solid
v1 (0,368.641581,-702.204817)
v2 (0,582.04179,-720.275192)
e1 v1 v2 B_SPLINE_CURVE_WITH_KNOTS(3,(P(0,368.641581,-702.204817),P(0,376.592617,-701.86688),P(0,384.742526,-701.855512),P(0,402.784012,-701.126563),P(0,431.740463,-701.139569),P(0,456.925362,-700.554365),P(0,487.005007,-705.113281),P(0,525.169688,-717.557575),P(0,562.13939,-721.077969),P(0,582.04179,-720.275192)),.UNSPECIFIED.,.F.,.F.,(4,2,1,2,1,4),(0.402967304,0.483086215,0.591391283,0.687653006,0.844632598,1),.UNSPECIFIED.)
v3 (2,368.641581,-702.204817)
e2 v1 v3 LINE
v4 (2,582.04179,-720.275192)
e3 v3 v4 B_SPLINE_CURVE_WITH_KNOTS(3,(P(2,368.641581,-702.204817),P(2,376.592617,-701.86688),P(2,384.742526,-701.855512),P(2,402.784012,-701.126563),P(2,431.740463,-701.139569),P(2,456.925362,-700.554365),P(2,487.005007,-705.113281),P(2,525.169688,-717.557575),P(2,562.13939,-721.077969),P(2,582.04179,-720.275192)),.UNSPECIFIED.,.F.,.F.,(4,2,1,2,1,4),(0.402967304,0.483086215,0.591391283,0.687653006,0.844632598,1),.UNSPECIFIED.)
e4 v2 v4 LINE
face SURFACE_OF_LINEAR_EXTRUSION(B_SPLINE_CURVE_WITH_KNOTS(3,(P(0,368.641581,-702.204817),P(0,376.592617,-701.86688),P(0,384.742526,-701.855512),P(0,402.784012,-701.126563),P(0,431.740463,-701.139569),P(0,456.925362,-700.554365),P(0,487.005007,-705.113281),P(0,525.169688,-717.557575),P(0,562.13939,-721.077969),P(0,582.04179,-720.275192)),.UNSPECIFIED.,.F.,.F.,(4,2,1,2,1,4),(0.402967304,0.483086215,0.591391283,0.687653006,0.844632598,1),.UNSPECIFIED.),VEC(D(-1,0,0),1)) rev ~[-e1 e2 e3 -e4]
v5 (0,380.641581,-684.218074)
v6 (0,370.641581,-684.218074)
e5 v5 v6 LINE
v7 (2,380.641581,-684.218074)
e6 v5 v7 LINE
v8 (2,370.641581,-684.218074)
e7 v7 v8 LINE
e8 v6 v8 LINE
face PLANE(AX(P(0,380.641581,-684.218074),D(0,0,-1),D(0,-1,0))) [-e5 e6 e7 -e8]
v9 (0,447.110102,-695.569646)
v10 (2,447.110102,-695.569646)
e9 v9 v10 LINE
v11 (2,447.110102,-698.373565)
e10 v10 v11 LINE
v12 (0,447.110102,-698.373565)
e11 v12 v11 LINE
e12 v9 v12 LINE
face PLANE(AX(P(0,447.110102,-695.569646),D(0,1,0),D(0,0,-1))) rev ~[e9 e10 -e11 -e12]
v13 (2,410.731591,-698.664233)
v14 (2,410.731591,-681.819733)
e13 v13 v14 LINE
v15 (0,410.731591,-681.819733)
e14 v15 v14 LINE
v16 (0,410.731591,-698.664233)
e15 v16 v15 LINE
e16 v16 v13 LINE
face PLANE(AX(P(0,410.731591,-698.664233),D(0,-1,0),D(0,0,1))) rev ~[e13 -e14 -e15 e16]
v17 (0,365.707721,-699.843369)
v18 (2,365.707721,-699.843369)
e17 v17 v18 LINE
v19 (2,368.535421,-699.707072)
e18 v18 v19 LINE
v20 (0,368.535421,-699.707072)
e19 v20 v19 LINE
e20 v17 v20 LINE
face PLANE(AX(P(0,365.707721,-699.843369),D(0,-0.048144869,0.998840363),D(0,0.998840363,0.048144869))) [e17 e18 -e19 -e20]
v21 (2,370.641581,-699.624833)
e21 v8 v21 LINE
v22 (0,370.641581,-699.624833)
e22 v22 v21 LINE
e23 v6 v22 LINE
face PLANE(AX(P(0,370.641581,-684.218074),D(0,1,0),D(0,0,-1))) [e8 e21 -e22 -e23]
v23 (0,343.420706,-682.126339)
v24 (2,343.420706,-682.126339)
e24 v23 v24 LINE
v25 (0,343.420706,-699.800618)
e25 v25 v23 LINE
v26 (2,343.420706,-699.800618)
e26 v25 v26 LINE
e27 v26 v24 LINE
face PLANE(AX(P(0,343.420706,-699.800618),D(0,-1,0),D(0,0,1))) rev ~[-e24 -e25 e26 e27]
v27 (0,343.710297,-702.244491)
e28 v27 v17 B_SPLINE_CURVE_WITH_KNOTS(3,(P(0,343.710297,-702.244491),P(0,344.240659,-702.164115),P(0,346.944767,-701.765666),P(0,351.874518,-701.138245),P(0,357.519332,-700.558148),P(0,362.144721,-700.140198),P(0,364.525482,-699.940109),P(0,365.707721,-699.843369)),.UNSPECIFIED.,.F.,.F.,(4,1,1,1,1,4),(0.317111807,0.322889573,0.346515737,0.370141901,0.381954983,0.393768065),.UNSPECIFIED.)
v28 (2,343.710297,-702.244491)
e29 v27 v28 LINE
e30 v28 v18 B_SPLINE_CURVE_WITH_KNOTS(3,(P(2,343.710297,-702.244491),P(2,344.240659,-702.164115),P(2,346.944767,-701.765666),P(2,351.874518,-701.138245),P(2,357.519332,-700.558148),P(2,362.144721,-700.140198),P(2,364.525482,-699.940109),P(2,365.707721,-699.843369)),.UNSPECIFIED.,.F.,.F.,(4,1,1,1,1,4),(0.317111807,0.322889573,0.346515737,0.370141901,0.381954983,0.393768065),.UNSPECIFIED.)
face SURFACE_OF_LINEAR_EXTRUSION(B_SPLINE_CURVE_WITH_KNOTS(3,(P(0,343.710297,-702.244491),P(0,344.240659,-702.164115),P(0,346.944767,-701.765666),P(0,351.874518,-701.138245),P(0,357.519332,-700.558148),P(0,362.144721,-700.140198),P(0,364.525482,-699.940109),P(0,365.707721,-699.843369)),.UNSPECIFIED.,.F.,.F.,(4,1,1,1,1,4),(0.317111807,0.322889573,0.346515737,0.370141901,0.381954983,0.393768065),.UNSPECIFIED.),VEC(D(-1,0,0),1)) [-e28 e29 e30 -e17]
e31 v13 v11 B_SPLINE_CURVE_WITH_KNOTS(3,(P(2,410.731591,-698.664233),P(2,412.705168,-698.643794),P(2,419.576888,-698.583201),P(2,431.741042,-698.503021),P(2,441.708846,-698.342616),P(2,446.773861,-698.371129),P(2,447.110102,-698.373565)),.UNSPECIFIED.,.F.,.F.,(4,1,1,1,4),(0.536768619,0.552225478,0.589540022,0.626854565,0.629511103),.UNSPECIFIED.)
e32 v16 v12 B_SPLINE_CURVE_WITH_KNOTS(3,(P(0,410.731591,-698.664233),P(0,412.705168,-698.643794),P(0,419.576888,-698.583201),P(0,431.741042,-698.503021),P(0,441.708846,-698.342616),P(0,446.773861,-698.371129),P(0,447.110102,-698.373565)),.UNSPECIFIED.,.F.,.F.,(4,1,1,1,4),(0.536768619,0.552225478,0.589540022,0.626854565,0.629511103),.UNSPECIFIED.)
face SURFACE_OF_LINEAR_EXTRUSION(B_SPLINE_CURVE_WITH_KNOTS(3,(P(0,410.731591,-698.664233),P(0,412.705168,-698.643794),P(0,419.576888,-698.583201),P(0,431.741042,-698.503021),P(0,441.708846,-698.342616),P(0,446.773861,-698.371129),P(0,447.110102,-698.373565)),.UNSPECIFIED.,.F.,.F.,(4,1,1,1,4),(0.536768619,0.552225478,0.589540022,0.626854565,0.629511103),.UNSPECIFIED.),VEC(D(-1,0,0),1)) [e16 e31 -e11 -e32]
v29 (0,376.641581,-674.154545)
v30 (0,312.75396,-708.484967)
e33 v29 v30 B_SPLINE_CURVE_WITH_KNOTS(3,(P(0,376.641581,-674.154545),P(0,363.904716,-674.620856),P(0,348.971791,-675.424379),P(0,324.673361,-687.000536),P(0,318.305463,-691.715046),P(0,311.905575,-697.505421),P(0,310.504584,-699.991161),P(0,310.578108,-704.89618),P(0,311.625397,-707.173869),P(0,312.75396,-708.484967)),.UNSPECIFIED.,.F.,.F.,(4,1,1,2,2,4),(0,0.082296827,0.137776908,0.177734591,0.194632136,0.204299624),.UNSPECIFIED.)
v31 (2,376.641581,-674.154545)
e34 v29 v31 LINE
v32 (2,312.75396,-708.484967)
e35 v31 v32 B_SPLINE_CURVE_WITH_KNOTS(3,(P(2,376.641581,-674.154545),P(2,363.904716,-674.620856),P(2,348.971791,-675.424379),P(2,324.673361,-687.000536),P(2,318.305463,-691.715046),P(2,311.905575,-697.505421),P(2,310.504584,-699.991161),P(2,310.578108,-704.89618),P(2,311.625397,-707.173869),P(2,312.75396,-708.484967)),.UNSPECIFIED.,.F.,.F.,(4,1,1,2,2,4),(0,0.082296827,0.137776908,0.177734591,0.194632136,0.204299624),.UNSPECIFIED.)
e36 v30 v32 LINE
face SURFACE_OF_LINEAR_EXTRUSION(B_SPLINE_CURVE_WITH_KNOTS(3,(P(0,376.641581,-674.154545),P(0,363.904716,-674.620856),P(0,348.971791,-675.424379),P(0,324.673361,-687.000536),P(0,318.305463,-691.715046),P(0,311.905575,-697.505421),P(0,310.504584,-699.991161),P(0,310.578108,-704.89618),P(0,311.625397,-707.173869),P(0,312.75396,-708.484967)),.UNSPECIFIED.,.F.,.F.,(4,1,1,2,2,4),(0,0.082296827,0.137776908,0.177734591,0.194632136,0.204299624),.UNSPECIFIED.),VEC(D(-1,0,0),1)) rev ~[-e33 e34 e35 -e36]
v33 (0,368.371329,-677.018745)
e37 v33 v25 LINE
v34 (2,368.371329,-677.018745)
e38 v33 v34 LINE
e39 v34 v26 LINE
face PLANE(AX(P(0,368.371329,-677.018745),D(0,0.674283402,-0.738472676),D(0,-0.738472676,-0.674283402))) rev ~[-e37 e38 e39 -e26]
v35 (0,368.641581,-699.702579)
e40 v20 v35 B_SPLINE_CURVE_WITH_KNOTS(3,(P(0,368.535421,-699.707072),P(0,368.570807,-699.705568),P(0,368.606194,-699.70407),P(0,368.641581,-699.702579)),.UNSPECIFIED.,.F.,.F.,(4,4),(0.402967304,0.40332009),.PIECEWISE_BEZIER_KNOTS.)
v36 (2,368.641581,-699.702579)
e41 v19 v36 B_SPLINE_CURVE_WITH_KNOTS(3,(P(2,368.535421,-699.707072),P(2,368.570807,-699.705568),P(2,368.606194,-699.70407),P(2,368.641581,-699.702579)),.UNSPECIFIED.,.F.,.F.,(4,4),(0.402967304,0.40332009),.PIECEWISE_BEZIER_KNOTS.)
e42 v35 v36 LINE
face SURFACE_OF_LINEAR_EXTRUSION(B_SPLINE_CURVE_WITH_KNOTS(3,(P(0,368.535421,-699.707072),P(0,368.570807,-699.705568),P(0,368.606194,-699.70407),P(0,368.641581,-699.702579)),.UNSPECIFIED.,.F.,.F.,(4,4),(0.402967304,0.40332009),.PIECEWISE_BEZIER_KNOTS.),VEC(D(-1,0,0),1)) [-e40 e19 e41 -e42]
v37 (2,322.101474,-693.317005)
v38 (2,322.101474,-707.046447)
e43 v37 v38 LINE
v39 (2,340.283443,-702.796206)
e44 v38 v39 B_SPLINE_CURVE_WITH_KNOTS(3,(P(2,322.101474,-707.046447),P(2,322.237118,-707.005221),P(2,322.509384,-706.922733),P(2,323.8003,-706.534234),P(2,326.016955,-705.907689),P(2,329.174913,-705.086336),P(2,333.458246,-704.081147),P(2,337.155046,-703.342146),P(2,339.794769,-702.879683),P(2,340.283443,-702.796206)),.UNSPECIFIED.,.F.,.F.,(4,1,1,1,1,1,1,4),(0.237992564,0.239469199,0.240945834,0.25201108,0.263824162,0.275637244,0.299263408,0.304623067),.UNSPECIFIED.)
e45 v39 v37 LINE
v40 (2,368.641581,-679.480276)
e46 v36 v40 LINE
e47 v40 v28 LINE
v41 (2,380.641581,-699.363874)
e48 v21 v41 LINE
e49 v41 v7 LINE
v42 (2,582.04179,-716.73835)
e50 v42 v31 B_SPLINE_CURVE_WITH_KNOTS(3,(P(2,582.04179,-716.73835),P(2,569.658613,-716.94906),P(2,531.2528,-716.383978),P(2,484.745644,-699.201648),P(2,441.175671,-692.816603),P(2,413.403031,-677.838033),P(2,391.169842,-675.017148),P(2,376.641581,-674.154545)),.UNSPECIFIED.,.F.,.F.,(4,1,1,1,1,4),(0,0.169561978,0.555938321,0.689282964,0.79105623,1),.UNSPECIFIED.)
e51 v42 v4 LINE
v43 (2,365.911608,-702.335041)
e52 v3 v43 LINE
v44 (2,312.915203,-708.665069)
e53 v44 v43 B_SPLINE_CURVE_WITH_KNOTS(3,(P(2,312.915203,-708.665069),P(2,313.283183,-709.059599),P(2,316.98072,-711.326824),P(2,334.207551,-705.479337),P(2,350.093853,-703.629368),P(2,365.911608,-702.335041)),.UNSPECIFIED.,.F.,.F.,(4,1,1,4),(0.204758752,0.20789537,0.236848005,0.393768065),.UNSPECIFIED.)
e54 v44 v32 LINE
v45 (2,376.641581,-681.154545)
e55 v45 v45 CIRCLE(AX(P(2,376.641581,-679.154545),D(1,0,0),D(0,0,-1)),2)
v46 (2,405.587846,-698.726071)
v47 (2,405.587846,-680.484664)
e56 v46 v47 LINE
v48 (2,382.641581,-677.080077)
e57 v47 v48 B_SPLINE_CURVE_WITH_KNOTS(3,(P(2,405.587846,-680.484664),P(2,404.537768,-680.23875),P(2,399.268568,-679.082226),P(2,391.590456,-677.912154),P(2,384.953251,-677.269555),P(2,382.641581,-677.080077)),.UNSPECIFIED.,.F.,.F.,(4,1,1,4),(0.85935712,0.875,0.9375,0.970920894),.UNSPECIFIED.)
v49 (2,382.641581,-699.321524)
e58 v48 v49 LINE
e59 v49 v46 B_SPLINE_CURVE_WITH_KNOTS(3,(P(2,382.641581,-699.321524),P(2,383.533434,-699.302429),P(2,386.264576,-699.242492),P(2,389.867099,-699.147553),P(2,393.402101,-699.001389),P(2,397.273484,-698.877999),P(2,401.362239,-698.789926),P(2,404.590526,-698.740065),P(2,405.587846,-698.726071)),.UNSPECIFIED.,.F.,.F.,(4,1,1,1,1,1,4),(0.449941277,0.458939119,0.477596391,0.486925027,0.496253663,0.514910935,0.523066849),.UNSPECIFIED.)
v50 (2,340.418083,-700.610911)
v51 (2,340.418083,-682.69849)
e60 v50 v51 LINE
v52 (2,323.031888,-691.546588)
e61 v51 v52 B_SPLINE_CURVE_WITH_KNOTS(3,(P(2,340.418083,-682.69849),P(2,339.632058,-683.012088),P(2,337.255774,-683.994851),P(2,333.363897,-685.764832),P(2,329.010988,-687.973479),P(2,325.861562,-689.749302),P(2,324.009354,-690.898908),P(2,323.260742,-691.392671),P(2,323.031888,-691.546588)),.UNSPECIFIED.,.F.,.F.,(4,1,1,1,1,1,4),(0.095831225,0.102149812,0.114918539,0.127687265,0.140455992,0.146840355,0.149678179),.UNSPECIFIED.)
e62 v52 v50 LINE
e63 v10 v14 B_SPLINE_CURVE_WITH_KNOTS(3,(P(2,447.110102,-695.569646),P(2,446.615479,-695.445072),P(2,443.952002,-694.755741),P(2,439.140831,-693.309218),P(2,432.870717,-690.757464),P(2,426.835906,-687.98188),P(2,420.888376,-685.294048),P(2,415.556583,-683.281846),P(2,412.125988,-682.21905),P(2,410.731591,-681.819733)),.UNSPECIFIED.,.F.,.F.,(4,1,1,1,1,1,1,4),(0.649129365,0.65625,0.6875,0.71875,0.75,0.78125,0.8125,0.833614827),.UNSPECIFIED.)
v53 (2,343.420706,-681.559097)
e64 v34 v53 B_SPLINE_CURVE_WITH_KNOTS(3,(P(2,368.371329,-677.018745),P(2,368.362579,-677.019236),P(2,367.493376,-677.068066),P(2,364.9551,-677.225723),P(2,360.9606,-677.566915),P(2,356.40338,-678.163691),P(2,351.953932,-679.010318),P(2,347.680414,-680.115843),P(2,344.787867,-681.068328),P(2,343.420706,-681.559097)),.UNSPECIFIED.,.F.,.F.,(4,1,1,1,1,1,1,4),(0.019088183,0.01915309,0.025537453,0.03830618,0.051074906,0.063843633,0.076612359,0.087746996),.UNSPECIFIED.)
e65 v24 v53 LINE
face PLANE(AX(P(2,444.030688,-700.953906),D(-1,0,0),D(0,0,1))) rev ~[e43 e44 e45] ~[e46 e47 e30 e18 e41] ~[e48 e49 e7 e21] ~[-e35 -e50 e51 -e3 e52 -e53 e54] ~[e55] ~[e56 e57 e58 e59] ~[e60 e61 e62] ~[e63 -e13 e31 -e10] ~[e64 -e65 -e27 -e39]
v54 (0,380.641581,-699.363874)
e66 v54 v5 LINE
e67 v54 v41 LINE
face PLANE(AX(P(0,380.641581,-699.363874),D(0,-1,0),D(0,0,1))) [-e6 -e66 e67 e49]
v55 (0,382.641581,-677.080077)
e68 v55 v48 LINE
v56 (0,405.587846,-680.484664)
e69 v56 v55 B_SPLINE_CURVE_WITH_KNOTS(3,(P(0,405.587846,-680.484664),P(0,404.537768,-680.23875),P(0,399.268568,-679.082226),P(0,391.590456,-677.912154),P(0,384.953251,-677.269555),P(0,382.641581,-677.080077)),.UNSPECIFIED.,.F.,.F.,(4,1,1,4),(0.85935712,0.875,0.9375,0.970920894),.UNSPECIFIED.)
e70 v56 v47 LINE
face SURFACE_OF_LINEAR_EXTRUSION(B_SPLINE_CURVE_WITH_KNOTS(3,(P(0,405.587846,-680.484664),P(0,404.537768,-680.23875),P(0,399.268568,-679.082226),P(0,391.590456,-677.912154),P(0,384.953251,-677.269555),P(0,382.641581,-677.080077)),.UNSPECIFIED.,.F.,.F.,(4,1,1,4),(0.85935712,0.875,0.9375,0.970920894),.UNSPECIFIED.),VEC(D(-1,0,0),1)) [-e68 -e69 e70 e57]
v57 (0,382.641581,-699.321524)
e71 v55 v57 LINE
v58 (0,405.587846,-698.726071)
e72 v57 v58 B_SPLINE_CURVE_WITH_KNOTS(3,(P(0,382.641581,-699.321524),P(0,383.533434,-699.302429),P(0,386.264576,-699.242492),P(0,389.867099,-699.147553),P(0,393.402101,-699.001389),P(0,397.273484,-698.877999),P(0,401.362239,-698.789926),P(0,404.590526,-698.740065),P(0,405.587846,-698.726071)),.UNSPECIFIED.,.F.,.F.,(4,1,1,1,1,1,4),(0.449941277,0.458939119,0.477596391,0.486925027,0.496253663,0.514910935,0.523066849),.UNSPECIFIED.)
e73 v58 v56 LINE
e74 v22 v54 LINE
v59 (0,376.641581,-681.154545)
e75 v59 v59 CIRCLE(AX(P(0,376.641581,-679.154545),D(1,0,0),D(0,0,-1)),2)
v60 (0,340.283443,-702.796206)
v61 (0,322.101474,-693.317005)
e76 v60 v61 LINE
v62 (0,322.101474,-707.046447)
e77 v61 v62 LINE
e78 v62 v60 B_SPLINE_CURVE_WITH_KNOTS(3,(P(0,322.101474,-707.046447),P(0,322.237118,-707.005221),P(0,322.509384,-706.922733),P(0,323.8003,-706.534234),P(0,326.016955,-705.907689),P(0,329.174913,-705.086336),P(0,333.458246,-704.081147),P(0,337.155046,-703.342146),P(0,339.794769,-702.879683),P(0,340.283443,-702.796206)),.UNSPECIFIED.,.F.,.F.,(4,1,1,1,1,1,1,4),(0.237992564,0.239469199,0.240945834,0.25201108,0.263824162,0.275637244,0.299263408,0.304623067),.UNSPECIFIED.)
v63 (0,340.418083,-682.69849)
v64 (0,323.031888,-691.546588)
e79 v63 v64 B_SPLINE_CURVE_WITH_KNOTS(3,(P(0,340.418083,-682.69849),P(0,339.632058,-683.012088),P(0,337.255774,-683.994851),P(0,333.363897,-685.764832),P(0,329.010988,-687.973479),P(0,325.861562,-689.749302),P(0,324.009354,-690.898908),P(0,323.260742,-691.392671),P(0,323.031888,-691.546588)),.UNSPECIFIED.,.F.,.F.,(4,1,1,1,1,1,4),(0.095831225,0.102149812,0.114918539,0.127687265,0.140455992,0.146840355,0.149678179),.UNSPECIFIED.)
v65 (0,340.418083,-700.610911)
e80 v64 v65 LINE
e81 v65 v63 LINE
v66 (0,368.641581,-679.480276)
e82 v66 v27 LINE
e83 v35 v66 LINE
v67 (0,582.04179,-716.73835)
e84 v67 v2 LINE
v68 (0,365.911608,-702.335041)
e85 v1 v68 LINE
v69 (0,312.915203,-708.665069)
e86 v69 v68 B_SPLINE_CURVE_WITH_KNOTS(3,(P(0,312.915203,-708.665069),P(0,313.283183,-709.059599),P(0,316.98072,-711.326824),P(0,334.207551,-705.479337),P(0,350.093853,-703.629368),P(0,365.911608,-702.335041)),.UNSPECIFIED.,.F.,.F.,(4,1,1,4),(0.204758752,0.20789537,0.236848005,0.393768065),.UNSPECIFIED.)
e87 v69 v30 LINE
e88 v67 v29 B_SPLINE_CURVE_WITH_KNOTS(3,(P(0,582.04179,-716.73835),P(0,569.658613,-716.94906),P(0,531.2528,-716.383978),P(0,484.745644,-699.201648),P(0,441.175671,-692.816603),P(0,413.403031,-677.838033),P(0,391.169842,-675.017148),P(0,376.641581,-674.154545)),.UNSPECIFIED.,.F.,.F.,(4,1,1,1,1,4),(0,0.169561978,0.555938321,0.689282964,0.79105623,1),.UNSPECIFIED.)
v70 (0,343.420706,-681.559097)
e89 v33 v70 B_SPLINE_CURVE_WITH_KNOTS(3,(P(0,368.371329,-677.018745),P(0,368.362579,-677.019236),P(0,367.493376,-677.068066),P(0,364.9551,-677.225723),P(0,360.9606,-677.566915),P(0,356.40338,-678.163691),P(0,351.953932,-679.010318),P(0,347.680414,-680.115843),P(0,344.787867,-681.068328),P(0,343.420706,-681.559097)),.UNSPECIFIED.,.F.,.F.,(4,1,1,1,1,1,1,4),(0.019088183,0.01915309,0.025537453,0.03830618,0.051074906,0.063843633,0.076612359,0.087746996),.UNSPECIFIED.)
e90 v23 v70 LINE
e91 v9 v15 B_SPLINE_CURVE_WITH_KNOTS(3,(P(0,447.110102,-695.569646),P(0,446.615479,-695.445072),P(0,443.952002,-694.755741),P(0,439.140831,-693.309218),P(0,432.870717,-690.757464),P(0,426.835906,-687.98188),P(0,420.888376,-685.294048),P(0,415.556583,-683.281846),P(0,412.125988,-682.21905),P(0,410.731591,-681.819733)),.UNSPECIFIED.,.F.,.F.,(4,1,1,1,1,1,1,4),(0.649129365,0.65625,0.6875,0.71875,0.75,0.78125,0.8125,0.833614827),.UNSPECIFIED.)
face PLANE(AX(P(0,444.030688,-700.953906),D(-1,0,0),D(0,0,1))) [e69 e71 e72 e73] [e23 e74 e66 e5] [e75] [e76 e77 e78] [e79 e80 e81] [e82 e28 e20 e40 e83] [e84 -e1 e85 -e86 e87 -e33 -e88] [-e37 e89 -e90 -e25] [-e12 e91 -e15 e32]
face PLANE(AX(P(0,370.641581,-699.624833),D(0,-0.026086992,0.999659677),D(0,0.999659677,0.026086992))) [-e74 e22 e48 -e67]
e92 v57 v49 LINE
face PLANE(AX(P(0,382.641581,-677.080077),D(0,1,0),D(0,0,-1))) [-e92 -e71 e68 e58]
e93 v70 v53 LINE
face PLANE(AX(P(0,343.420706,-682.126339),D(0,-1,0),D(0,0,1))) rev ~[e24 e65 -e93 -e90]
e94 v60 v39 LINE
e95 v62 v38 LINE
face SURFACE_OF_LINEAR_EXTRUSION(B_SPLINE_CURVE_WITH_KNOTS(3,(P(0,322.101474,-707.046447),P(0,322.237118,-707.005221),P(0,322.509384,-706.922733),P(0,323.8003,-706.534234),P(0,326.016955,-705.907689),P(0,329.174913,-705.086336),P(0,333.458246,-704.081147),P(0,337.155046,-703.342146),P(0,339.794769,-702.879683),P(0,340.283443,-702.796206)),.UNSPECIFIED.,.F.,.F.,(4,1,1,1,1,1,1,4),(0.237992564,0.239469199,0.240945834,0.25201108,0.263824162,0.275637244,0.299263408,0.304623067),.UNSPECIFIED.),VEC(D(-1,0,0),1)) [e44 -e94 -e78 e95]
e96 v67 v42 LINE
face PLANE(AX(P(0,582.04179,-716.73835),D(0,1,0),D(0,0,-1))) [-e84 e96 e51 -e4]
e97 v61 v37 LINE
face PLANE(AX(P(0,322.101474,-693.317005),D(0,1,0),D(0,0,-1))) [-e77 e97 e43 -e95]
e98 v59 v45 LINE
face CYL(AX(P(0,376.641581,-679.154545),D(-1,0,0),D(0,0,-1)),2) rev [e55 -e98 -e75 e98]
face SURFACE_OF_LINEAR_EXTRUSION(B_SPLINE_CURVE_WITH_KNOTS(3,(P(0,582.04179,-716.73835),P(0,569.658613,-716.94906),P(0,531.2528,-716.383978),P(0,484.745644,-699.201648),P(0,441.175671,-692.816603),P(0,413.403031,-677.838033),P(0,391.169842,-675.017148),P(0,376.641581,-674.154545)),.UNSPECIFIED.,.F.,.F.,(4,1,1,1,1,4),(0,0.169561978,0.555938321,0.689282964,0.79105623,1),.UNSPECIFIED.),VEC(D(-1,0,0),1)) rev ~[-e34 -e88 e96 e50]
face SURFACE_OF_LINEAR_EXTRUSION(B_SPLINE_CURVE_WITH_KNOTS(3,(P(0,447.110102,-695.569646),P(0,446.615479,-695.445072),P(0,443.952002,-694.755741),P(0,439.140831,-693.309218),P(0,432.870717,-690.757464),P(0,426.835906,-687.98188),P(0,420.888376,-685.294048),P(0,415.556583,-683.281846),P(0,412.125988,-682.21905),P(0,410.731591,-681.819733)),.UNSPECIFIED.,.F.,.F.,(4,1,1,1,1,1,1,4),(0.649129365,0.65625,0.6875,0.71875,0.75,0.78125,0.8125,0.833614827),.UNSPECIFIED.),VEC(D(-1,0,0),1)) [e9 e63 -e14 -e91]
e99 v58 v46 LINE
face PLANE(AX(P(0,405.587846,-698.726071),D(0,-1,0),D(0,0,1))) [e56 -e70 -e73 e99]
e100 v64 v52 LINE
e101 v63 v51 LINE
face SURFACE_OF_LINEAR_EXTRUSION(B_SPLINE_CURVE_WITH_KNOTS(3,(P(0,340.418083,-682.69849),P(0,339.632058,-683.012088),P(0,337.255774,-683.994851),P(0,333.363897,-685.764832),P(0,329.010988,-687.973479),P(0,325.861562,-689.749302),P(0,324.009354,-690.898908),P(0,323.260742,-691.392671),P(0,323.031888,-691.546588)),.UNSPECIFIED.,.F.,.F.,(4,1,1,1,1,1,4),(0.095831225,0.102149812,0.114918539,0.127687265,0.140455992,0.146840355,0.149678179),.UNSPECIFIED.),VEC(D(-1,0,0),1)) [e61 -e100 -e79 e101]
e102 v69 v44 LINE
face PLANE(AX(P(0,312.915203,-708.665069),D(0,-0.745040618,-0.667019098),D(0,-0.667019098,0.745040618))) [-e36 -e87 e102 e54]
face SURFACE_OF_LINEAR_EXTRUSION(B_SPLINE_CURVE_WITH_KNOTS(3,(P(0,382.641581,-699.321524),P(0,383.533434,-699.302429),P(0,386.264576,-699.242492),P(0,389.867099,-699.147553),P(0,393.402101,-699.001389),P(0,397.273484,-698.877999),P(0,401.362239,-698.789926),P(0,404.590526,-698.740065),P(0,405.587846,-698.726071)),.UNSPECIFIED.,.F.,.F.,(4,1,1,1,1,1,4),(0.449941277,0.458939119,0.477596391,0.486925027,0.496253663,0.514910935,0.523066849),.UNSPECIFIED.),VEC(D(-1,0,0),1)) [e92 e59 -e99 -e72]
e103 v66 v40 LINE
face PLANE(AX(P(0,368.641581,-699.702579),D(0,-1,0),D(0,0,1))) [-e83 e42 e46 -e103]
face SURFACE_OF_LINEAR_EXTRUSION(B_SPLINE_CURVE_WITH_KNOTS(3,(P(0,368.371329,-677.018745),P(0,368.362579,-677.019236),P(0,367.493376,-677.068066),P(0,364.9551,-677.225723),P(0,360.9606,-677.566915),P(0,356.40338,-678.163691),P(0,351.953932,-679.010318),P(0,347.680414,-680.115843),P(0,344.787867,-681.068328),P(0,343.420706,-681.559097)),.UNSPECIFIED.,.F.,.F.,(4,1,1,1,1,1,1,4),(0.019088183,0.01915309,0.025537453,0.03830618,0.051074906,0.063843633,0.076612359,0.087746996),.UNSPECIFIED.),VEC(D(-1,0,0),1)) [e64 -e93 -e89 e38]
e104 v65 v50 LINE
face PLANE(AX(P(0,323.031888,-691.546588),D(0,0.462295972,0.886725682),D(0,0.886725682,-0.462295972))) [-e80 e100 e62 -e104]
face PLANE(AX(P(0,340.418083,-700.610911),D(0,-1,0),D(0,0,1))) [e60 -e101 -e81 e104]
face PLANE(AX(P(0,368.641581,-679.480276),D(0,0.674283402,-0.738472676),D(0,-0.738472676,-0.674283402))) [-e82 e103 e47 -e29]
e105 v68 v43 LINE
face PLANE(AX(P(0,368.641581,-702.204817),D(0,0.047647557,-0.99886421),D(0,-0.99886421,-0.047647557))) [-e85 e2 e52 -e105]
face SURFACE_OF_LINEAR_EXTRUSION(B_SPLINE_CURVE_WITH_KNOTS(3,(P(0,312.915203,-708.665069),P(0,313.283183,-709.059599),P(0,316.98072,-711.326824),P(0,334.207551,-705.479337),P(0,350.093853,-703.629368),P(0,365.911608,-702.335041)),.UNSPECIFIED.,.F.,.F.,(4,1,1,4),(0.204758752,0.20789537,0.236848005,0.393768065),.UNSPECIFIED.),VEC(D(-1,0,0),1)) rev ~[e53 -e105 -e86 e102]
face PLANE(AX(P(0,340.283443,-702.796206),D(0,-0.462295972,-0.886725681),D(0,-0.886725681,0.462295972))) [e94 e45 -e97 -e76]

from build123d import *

# Parameters (mm, degrees)
SKETCH5_R           = 2
BOSS_EXTRUDE4_DEPTH = 2


with BuildPart() as part:
    # Sketch5 → Boss-Extrude4 (new body)
    with BuildSketch(Plane(origin=(0, 0, 0), x_dir=(0, 0, -1), z_dir=(1, 0, 0))):
        with BuildLine():
            Line((702.204816823, 368.641580619), (702.335041252, 365.911608116))
            add(Edge.make_bspline(
                [(708.665069398, 312.915202561), (709.059599228, 313.283182522), (711.326824284, 316.980719887), (705.479336728, 334.207550543), (703.629367545, 350.093853303), (702.335041252, 365.911608116)],
                knots=[0.204758752, 0.204758752, 0.204758752, 0.204758752, 0.20789537, 0.236848005, 0.393768065, 0.393768065, 0.393768065, 0.393768065], degree=3))
            Line((708.665069398, 312.915202561), (708.4849665, 312.753960248))
            add(Edge.make_bspline(
                [(674.154545228, 376.641580619), (674.620856382, 363.904715947), (675.424379165, 348.971791483), (687.000536051, 324.673360926), (691.715046417, 318.305462816), (697.505420821, 311.905575317), (699.991161169, 310.504584491), (704.896179602, 310.578107779), (707.173869325, 311.62539673), (708.4849665, 312.753960248)],
                knots=[0, 0, 0, 0, 0.082296827, 0.137776908, 0.177734591, 0.177734591, 0.194632136, 0.194632136, 0.204299624, 0.204299624, 0.204299624, 0.204299624], degree=3))
            add(Edge.make_bspline(
                [(716.738350356, 582.041790112), (716.949059787, 569.658613326), (716.383977532, 531.252800378), (699.20164784, 484.745643735), (692.816603357, 441.17567074), (677.838033392, 413.403031345), (675.017147904, 391.169841826), (674.154545228, 376.641580619)],
                knots=[0, 0, 0, 0, 0.169561978, 0.555938321, 0.689282964, 0.79105623, 1, 1, 1, 1], degree=3))
            Line((716.738350356, 582.041790112), (720.275191601, 582.041790112))
            add(Edge.make_bspline(
                [(702.204816823, 368.641580619), (701.866880483, 376.59261731), (701.855512377, 384.742525801), (701.126563426, 402.784012347), (701.139569257, 431.740463498), (700.554364903, 456.925362173), (705.113280793, 487.005006805), (717.55757455, 525.169688046), (721.077969059, 562.139389647), (720.275191601, 582.041790112)],
                knots=[0.402967304, 0.402967304, 0.402967304, 0.402967304, 0.483086215, 0.483086215, 0.591391283, 0.687653006, 0.687653006, 0.844632598, 1, 1, 1, 1], degree=3))
        make_face()
        with Locations((679.154545228, 376.641580619)):
            Circle(SKETCH5_R, mode=Mode.SUBTRACT)
        with BuildLine():
            Line((693.31700457, 322.101474261), (707.046446766, 322.101474261))
            add(Edge.make_bspline(
                [(707.046446766, 322.101474261), (707.005220945, 322.237117772), (706.922732707, 322.509383939), (706.534234053, 323.800299861), (705.907689381, 326.016954973), (705.086335684, 329.174913084), (704.081146672, 333.458245954), (703.342146452, 337.155046299), (702.879683114, 339.794769321), (702.796205667, 340.283443291)],
                knots=[0.237992564, 0.237992564, 0.237992564, 0.237992564, 0.239469199, 0.240945834, 0.25201108, 0.263824162, 0.275637244, 0.299263408, 0.304623067, 0.304623067, 0.304623067, 0.304623067], degree=3))
            Line((702.796205667, 340.283443291), (693.31700457, 322.101474261))
        make_face(mode=Mode.SUBTRACT)
        with BuildLine():
            Line((695.569646388, 447.110102342), (698.373565229, 447.110102342))
            add(Edge.make_bspline(
                [(698.664232879, 410.731591223), (698.643793767, 412.705167832), (698.583200964, 419.576888227), (698.503020609, 431.741041677), (698.342615508, 441.708845907), (698.371128999, 446.773860567), (698.373565229, 447.110102342)],
                knots=[0.536768619, 0.536768619, 0.536768619, 0.536768619, 0.552225478, 0.589540022, 0.626854565, 0.629511103, 0.629511103, 0.629511103, 0.629511103], degree=3))
            Line((698.664232879, 410.731591223), (681.819733297, 410.731591223))
            add(Edge.make_bspline(
                [(695.569646388, 447.110102342), (695.445071663, 446.615479316), (694.75574098, 443.952002178), (693.309217828, 439.14083074), (690.757463872, 432.870717043), (687.981879888, 426.835905874), (685.294048363, 420.88837637), (683.281845592, 415.556583016), (682.219049797, 412.125988091), (681.819733297, 410.731591223)],
                knots=[0.649129365, 0.649129365, 0.649129365, 0.649129365, 0.65625, 0.6875, 0.71875, 0.75, 0.78125, 0.8125, 0.833614827, 0.833614827, 0.833614827, 0.833614827], degree=3))
        make_face(mode=Mode.SUBTRACT)
        with BuildLine():
            Line((698.726070785, 405.587845941), (680.484664022, 405.587845941))
            add(Edge.make_bspline(
                [(680.484664022, 405.587845941), (680.238750128, 404.537768108), (679.082225719, 399.268568047), (677.912154024, 391.590456054), (677.269554608, 384.953250969), (677.080076983, 382.641580619)],
                knots=[0.85935712, 0.85935712, 0.85935712, 0.85935712, 0.875, 0.9375, 0.970920894, 0.970920894, 0.970920894, 0.970920894], degree=3))
            Line((677.080076983, 382.641580619), (699.321524117, 382.641580619))
            add(Edge.make_bspline(
                [(699.321524117, 382.641580619), (699.302429137, 383.533434317), (699.242491888, 386.264575946), (699.147553202, 389.867098627), (699.001388629, 393.402101288), (698.877999212, 397.273483995), (698.789925818, 401.362239475), (698.740065111, 404.5905262), (698.726070785, 405.587845941)],
                knots=[0.449941277, 0.449941277, 0.449941277, 0.449941277, 0.458939119, 0.477596391, 0.486925027, 0.496253663, 0.514910935, 0.523066849, 0.523066849, 0.523066849, 0.523066849], degree=3))
        make_face(mode=Mode.SUBTRACT)
        with BuildLine():
            Line((699.702579346, 368.641580618), (679.480276131, 368.641580618))
            Line((679.480276131, 368.641580618), (702.244491297, 343.710296775))
            add(Edge.make_bspline(
                [(702.244491297, 343.710296775), (702.164114891, 344.240659424), (701.765665969, 346.944766745), (701.138245114, 351.874517683), (700.558148125, 357.51933203), (700.140198351, 362.144721019), (699.940108697, 364.525481943), (699.84336911, 365.707720979)],
                knots=[0.317111807, 0.317111807, 0.317111807, 0.317111807, 0.322889573, 0.346515737, 0.370141901, 0.381954983, 0.393768065, 0.393768065, 0.393768065, 0.393768065], degree=3))
            Line((699.84336911, 365.707720979), (699.707071806, 368.535421028))
            add(Edge.make_bspline(
                [(699.707071806, 368.535421028), (699.705567812, 368.570807306), (699.704070344, 368.606193837), (699.702579346, 368.641580618)],
                knots=[0.402967304, 0.402967304, 0.402967304, 0.402967304, 0.40332009, 0.40332009, 0.40332009, 0.40332009], degree=3))
        make_face(mode=Mode.SUBTRACT)
        Polygon((684.218074476, 380.641580619), (684.218074476, 370.641580619), (699.624833146, 370.641580619), (699.363874416, 380.641580619), align=None, mode=Mode.SUBTRACT)
        with BuildLine():
            Line((682.1263391, 343.420706069), (681.559097296, 343.420706069))
            add(Edge.make_bspline(
                [(677.018744633, 368.371328907), (677.019235664, 368.362579282), (677.068066295, 367.493376401), (677.225723278, 364.955099862), (677.566914997, 360.96060035), (678.163690756, 356.403379957), (679.010318197, 351.953931669), (680.115843128, 347.680414445), (681.068328365, 344.787866734), (681.559097296, 343.420706069)],
                knots=[0.019088183, 0.019088183, 0.019088183, 0.019088183, 0.01915309, 0.025537453, 0.03830618, 0.051074906, 0.063843633, 0.076612359, 0.087746996, 0.087746996, 0.087746996, 0.087746996], degree=3))
            Line((677.018744633, 368.371328907), (699.800617822, 343.420706068))
            Line((699.800617822, 343.420706068), (682.1263391, 343.420706069))
        make_face(mode=Mode.SUBTRACT)
        with BuildLine():
            Line((700.610911268, 340.418082885), (682.698490087, 340.418082885))
            add(Edge.make_bspline(
                [(682.698490087, 340.418082885), (683.012088003, 339.63205833), (683.994851073, 337.255773782), (685.764831958, 333.363896697), (687.973478624, 329.010987916), (689.749302302, 325.86156191), (690.898907805, 324.009354103), (691.392671247, 323.260742331), (691.546588362, 323.031887901)],
                knots=[0.095831225, 0.095831225, 0.095831225, 0.095831225, 0.102149812, 0.114918539, 0.127687265, 0.140455992, 0.146840355, 0.149678179, 0.149678179, 0.149678179, 0.149678179], degree=3))
            Line((691.546588362, 323.031887901), (700.610911268, 340.418082885))
        make_face(mode=Mode.SUBTRACT)
    extrude(amount=BOSS_EXTRUDE4_DEPTH)


solid = part.part
